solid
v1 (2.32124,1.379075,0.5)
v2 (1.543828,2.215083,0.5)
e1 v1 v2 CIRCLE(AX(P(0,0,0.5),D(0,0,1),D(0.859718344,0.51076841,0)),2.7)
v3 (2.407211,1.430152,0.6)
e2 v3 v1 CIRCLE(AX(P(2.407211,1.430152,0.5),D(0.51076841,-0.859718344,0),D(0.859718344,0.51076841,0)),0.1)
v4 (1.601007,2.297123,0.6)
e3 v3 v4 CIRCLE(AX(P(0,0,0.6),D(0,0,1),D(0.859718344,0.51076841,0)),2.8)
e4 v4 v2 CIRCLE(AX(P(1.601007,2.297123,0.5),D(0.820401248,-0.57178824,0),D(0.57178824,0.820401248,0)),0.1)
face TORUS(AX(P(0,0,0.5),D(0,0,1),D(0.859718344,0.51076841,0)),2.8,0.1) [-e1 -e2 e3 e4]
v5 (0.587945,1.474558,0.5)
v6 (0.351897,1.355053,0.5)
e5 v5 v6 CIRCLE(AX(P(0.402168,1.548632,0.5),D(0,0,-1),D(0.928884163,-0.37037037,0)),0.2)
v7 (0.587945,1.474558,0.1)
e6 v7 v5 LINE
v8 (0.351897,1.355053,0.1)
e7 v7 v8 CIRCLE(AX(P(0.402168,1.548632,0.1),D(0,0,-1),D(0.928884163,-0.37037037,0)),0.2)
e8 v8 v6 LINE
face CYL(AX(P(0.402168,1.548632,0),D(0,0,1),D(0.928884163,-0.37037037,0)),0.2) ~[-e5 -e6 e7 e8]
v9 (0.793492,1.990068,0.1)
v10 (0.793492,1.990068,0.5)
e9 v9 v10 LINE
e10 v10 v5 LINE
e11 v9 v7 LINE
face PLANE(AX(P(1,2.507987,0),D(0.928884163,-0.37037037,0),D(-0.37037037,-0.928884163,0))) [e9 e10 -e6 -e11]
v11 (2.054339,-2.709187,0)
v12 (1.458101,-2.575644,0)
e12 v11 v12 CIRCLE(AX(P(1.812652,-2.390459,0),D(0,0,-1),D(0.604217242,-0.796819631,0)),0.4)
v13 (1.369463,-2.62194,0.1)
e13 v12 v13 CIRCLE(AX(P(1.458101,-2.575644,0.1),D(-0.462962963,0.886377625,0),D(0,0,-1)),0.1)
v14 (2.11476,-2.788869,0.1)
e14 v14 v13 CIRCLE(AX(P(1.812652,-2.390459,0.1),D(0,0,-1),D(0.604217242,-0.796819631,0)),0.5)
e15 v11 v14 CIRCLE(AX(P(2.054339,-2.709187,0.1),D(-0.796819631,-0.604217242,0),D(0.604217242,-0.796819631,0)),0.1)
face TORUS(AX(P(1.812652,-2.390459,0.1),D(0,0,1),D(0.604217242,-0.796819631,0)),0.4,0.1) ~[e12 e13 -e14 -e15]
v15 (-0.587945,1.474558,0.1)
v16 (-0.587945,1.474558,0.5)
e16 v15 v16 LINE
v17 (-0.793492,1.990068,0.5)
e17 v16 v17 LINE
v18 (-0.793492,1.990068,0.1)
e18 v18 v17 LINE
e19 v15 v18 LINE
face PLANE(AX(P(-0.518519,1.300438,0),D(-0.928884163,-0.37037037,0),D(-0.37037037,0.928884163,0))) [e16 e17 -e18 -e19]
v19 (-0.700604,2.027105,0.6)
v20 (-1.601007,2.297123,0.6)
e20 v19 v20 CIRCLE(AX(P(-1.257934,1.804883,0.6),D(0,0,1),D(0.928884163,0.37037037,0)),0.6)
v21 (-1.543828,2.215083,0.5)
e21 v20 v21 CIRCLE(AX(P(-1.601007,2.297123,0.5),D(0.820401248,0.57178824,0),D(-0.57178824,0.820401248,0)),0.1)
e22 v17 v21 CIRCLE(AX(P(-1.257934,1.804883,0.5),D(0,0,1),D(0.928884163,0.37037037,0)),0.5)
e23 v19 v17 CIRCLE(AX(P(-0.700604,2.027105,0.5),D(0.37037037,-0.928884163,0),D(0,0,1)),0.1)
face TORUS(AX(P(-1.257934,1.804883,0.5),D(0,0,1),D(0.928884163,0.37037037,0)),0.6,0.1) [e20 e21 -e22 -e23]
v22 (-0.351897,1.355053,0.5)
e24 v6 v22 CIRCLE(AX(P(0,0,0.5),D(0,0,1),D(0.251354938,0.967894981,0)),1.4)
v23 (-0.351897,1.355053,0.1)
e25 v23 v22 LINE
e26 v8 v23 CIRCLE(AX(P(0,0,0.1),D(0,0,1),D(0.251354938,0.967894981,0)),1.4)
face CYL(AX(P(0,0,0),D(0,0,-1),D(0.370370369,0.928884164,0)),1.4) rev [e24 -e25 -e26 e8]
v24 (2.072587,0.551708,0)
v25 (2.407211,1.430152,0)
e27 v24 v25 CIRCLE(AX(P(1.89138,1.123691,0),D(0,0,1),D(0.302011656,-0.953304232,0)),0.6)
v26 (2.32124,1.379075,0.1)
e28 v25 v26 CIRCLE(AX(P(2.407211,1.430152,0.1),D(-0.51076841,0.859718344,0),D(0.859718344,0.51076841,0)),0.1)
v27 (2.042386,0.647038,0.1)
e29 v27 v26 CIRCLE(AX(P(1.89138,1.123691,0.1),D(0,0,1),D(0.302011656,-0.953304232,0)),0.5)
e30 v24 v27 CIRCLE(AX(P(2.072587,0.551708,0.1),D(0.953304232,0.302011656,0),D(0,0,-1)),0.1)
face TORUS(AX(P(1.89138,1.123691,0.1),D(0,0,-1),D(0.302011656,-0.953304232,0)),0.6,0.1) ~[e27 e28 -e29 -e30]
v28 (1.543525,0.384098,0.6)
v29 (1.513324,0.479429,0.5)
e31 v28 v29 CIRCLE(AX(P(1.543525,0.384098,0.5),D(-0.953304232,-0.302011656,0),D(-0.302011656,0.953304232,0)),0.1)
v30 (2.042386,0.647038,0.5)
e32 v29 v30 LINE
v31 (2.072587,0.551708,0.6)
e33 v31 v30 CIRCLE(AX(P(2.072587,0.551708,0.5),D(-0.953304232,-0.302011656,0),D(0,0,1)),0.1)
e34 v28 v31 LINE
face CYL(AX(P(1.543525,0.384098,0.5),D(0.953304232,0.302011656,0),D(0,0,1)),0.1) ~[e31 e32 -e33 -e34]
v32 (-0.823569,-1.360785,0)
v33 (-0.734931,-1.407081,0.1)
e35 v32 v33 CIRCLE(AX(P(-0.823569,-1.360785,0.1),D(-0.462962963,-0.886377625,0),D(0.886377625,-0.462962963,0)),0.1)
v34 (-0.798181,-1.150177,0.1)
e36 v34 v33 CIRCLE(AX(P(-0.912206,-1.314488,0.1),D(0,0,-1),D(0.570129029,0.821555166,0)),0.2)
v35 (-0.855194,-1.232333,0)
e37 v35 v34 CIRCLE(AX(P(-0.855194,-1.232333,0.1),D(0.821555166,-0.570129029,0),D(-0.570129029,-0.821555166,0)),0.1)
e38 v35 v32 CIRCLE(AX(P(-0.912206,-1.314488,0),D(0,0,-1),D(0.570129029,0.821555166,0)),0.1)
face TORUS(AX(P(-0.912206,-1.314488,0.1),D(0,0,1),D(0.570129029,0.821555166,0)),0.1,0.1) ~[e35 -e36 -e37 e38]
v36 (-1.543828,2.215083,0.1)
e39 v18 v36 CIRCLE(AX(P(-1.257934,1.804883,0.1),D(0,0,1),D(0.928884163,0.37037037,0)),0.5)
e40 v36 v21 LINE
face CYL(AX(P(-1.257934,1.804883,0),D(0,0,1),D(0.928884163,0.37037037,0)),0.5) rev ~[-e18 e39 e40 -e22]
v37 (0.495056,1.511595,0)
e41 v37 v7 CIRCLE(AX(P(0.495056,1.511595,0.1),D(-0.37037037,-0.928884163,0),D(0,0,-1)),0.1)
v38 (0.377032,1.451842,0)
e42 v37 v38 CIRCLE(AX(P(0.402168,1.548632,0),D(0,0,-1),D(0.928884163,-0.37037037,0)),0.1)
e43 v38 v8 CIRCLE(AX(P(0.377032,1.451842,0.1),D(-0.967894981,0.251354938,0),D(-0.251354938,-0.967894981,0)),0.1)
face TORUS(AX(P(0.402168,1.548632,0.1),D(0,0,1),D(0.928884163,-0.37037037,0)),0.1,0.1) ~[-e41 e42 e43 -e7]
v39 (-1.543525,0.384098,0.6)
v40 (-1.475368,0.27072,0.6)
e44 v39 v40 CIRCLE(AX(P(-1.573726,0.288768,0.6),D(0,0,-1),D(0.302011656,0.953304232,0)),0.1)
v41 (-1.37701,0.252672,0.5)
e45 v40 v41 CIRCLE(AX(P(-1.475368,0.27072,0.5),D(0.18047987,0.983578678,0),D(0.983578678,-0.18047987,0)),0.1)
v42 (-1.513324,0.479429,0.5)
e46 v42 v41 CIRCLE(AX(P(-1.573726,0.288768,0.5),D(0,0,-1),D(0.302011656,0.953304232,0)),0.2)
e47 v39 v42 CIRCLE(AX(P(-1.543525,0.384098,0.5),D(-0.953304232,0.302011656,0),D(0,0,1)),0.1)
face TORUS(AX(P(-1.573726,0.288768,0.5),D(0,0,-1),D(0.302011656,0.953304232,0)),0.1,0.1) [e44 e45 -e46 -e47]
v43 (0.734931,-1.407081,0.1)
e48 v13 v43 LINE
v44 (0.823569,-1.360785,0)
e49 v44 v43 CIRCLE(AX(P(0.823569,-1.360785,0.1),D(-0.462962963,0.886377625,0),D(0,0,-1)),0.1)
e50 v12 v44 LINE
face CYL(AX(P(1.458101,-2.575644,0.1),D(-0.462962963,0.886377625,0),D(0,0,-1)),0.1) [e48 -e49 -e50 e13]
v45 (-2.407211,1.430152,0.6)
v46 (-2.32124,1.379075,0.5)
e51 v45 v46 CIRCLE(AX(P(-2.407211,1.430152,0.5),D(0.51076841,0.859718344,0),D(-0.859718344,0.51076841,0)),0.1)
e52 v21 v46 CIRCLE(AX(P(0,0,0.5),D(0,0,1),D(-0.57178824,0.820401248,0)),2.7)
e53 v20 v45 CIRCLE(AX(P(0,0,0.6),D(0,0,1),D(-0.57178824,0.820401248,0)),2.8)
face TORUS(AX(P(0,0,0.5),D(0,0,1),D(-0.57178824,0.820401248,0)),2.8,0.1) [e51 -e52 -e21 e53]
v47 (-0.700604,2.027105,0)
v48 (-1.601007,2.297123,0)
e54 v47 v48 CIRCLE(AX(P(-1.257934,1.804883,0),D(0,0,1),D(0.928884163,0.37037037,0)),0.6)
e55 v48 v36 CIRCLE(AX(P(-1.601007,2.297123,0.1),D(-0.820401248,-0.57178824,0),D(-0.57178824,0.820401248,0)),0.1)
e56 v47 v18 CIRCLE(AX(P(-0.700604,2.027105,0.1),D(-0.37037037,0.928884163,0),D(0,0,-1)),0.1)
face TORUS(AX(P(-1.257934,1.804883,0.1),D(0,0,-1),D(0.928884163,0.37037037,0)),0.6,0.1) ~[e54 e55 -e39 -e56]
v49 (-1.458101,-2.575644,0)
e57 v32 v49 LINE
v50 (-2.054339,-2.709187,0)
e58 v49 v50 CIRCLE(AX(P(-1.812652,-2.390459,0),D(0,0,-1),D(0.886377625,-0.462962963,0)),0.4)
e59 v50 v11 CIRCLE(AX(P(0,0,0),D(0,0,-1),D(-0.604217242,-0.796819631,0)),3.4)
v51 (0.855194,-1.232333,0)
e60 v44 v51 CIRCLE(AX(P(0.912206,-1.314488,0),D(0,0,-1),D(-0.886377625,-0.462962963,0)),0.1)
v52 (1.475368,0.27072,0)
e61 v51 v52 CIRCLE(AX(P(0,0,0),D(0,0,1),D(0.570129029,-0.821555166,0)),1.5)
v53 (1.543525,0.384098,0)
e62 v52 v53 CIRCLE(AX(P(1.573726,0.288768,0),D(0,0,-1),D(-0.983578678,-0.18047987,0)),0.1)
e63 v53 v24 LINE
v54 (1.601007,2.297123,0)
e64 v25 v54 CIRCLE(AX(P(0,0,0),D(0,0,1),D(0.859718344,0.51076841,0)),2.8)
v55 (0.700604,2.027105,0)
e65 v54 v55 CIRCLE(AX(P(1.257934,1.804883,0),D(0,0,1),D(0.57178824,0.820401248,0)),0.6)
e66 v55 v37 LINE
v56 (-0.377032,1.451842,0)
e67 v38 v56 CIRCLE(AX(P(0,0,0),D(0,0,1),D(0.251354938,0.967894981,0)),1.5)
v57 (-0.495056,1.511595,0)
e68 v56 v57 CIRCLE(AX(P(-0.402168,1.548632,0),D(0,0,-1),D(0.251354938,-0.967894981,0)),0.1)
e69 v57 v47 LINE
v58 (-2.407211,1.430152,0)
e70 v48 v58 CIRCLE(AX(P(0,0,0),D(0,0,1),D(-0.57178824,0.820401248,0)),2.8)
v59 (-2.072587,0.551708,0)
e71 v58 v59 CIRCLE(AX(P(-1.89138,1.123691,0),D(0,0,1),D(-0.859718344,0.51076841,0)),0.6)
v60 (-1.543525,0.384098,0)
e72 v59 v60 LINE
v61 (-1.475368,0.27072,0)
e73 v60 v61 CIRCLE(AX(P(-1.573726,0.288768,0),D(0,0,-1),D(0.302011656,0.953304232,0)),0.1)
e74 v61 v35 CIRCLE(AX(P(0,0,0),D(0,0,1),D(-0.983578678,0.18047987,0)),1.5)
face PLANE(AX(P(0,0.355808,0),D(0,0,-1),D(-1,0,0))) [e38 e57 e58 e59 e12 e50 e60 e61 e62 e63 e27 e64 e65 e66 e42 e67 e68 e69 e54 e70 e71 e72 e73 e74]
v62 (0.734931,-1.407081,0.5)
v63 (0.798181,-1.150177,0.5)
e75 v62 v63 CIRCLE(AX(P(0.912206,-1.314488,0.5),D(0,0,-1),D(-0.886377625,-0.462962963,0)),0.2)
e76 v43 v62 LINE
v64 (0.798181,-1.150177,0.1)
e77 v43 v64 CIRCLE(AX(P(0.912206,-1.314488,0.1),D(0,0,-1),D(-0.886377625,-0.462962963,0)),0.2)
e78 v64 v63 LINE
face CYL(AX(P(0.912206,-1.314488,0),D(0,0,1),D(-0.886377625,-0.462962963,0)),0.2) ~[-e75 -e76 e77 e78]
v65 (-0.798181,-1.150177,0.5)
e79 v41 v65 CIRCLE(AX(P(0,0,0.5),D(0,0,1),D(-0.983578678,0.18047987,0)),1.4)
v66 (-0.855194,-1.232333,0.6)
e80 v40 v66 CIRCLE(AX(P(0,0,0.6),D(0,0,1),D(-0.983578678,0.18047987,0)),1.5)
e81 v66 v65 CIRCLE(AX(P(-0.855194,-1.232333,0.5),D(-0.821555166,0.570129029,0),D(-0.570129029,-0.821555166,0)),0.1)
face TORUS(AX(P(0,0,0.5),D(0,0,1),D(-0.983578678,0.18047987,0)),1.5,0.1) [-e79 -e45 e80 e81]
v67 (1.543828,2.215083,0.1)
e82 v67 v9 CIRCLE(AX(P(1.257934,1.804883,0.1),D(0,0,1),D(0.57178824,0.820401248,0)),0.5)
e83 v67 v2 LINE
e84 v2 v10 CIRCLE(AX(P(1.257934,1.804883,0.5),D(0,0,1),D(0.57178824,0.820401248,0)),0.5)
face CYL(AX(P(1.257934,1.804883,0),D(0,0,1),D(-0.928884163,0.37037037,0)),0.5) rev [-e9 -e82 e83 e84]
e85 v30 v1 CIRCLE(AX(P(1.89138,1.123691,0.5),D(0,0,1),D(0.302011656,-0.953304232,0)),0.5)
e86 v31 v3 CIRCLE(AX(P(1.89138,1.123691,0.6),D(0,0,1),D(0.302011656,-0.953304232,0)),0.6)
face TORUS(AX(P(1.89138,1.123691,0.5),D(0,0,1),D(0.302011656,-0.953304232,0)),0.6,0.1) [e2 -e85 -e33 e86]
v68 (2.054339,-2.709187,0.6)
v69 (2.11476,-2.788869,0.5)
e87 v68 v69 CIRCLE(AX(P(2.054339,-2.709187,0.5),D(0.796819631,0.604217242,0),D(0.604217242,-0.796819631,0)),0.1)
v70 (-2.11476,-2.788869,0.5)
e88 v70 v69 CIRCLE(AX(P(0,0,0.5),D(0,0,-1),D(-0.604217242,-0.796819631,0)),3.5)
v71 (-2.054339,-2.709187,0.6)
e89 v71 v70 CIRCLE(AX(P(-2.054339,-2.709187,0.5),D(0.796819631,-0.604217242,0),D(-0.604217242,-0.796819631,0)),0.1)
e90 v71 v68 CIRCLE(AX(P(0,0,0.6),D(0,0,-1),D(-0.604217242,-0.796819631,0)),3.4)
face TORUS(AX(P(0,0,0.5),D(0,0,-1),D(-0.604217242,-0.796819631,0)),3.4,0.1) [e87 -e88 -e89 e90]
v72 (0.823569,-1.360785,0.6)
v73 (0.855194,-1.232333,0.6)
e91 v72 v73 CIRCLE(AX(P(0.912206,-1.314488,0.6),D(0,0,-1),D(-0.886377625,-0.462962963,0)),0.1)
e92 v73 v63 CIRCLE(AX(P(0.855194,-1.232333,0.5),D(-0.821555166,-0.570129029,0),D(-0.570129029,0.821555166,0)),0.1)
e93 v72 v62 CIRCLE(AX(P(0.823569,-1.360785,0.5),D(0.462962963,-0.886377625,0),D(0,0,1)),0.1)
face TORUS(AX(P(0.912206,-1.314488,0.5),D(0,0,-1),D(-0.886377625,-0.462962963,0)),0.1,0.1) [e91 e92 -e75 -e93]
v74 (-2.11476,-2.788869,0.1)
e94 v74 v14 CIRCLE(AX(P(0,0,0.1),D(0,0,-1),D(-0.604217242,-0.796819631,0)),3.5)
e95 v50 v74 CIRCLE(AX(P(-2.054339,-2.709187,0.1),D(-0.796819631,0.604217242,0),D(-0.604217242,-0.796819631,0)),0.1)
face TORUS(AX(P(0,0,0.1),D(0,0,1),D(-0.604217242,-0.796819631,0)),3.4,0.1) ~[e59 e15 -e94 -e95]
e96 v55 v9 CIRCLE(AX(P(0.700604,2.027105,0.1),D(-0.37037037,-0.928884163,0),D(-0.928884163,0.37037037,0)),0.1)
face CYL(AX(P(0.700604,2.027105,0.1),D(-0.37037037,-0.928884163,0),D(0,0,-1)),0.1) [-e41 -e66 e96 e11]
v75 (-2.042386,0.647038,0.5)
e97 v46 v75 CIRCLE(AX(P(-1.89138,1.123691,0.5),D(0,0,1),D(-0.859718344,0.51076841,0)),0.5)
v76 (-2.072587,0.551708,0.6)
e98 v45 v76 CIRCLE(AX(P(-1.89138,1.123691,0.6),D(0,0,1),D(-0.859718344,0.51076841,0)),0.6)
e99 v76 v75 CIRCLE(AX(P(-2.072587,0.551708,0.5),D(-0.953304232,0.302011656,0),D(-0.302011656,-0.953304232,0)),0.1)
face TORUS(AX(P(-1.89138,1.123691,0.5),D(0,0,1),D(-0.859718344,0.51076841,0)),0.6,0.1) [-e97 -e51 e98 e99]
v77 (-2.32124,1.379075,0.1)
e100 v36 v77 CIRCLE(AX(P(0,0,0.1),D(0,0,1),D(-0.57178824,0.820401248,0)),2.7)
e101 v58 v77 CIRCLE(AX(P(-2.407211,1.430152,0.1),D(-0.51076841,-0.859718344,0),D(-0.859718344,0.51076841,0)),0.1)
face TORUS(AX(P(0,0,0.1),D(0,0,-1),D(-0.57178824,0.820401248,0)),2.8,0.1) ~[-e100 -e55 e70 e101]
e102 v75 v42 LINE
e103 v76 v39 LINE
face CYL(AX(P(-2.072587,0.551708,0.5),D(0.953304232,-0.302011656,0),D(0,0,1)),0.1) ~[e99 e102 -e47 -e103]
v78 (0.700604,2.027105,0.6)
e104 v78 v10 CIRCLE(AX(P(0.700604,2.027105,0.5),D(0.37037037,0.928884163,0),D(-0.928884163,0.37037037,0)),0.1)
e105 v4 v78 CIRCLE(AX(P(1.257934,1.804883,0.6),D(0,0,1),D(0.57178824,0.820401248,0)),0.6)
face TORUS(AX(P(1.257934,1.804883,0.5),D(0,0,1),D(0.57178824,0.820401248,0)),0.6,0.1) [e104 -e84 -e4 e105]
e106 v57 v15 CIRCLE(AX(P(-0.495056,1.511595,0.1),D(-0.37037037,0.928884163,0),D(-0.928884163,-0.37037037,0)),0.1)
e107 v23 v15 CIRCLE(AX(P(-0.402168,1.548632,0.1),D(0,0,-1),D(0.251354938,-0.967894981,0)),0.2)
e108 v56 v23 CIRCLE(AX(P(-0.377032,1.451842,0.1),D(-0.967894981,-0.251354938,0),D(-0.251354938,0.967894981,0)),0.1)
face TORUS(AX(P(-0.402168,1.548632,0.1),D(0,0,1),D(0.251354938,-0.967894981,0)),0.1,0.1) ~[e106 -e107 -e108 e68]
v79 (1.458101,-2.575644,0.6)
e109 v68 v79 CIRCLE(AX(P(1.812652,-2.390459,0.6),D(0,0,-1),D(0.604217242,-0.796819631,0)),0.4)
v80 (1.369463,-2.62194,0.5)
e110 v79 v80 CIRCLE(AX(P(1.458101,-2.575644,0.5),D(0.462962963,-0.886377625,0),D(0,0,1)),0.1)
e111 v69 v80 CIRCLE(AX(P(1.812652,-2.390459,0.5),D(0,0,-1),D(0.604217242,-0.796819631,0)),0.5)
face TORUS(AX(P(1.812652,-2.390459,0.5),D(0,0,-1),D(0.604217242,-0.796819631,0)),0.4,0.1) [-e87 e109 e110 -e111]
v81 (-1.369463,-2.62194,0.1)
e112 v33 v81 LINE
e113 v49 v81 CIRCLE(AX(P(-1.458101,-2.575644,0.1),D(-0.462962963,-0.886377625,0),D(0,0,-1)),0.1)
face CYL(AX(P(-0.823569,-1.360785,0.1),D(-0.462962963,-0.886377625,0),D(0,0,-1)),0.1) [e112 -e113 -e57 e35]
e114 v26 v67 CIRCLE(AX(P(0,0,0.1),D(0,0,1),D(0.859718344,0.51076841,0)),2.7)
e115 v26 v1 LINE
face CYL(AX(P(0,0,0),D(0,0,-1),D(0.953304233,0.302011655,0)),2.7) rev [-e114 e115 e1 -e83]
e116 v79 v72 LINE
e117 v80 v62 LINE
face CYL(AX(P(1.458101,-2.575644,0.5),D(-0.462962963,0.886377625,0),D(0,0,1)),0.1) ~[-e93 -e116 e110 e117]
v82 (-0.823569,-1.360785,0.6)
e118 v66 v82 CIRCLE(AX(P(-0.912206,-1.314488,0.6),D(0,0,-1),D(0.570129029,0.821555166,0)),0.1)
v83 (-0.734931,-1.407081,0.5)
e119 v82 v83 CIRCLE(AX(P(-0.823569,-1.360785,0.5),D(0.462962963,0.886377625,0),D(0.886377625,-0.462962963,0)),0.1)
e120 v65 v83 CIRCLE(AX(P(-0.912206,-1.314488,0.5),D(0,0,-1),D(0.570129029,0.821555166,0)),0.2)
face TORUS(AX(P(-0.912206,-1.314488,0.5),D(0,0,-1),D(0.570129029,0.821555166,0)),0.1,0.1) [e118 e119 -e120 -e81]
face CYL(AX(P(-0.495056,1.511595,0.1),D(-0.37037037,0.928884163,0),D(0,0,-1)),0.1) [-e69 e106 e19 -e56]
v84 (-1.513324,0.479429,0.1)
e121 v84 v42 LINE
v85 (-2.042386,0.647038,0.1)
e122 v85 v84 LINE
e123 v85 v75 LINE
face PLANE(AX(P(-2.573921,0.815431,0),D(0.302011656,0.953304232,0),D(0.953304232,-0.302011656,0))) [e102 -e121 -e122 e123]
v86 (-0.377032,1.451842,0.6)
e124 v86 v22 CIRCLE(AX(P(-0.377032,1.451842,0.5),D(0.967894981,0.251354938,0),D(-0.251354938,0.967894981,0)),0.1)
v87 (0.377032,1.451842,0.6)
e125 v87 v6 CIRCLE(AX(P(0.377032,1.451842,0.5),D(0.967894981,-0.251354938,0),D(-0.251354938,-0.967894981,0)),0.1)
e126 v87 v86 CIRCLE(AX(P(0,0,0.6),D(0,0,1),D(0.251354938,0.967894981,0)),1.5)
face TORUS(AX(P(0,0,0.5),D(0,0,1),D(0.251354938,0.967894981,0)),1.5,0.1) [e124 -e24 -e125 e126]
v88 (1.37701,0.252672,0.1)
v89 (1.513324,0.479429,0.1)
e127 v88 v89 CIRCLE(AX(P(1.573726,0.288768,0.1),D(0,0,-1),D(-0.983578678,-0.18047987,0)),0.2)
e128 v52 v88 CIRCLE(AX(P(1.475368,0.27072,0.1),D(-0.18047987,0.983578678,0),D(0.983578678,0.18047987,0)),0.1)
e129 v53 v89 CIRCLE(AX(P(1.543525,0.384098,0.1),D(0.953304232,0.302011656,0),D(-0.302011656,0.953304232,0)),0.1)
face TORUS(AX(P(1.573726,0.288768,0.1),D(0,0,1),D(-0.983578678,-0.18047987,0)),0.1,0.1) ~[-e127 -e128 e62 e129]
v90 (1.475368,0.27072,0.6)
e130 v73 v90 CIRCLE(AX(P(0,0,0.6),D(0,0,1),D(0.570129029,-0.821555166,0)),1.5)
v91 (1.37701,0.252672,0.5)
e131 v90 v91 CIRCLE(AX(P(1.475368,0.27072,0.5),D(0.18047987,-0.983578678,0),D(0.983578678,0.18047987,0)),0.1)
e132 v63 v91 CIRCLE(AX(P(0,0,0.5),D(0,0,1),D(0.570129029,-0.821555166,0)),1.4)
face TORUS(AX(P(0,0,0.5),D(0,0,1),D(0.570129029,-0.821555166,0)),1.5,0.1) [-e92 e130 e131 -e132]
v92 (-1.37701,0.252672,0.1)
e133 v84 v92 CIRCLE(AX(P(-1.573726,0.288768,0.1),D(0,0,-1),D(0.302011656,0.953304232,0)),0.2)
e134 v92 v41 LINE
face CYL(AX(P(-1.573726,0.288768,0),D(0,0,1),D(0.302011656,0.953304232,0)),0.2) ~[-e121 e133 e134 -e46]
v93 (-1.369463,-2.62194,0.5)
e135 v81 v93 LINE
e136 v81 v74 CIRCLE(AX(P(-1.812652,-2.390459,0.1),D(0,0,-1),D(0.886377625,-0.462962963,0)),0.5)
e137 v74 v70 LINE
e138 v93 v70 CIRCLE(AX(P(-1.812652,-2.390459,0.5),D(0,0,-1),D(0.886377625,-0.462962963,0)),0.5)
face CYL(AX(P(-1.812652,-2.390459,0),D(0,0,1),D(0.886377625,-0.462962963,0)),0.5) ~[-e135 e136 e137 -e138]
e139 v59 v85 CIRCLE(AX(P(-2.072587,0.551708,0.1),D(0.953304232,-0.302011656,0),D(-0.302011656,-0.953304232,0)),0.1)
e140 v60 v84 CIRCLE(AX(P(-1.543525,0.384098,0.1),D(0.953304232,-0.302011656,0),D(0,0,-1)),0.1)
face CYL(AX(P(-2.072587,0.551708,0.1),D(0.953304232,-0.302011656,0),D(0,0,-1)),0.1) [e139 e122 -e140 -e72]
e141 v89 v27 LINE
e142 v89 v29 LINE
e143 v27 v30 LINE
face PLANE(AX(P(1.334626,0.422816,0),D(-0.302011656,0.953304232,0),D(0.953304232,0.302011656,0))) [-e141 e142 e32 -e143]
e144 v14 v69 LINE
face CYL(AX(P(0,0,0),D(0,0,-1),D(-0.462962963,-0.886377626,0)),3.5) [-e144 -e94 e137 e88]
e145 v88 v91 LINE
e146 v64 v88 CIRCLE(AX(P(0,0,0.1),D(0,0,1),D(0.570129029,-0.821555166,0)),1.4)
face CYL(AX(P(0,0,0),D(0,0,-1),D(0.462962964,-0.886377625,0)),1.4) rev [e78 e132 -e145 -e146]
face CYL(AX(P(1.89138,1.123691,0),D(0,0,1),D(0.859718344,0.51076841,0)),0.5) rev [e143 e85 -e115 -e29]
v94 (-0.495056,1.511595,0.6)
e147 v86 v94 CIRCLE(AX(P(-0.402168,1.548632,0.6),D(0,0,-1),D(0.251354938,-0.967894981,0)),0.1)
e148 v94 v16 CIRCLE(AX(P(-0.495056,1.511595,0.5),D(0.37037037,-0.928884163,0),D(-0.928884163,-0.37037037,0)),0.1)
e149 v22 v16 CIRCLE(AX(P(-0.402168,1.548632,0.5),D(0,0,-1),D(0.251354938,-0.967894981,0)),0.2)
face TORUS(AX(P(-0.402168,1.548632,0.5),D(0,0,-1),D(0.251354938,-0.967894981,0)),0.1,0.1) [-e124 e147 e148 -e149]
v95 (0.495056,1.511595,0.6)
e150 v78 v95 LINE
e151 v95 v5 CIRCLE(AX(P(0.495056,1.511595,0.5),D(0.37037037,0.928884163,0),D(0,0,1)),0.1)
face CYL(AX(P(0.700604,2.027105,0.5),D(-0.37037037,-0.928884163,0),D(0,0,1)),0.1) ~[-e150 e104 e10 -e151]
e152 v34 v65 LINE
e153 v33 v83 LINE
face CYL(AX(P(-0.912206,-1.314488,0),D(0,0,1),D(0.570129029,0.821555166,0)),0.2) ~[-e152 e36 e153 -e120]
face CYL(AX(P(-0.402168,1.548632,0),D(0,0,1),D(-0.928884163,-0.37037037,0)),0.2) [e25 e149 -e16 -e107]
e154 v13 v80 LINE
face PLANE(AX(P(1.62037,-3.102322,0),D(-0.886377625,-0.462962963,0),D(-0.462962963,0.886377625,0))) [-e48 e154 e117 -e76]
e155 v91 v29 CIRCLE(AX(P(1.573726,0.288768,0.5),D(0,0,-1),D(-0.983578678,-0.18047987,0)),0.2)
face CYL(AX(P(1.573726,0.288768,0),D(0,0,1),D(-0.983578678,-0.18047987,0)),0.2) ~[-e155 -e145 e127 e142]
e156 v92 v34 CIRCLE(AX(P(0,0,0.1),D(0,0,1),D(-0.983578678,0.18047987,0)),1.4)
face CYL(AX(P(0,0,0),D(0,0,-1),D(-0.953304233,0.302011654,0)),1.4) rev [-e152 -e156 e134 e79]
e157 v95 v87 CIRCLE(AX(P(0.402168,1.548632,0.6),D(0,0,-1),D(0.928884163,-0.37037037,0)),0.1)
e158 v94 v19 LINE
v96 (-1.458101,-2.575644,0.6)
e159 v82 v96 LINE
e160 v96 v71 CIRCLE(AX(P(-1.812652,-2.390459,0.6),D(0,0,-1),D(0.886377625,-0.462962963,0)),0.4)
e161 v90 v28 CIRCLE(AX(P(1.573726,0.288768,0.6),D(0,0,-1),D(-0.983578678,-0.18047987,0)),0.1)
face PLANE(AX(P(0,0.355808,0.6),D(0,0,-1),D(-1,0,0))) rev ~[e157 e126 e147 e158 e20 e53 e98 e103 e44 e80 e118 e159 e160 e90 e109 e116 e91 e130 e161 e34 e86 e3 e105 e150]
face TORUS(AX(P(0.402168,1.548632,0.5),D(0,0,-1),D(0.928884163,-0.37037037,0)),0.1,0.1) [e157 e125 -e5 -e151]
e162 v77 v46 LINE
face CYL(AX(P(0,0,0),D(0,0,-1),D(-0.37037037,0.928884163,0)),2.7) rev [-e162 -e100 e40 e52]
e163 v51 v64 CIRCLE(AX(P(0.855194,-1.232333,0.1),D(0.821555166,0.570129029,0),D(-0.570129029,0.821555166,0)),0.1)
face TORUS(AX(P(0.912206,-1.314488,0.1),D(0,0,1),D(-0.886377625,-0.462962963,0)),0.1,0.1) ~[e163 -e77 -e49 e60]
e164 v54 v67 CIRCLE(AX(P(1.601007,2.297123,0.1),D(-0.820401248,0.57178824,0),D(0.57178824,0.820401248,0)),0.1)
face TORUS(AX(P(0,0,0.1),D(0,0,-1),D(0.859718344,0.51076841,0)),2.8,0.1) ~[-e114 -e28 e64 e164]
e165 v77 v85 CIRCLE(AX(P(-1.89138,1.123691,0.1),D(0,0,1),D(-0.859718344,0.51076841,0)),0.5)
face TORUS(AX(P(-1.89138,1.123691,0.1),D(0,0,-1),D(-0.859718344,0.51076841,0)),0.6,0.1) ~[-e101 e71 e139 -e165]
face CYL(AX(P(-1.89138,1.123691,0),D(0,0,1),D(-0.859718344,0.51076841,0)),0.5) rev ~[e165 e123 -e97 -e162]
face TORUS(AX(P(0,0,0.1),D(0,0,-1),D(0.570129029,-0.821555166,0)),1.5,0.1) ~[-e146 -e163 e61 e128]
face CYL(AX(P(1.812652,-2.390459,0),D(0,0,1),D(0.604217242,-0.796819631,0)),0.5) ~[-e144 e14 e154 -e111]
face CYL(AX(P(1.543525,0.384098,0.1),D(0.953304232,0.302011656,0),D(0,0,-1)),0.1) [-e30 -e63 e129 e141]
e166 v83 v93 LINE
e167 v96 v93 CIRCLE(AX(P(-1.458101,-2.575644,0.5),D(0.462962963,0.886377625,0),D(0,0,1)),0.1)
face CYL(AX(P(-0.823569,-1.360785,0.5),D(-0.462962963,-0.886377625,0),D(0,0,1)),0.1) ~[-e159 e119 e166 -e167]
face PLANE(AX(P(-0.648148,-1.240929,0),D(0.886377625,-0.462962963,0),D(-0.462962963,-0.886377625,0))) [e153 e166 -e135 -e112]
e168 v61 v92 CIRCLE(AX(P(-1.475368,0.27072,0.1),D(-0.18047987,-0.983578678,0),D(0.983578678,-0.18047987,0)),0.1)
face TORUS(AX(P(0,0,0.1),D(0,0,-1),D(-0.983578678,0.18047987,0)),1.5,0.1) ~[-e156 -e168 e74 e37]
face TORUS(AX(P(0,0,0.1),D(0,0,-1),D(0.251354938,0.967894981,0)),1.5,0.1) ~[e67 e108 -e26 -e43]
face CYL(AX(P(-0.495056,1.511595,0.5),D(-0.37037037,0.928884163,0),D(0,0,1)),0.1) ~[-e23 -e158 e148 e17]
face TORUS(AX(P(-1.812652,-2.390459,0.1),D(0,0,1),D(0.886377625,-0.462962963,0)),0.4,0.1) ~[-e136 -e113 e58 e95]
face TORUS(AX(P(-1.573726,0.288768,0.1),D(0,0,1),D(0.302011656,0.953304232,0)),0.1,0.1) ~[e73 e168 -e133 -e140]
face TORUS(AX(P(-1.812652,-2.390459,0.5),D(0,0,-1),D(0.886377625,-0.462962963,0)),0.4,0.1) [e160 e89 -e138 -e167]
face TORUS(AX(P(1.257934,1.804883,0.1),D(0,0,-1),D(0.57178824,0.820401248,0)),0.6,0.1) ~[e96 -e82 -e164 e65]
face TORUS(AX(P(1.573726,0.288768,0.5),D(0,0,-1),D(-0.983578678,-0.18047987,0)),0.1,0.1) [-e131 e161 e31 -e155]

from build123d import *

# Parameters (mm, degrees)
EXTRUDE_1_DEPTH = 0.6
FILLET_1_R      = 0.2
FILLET_2_R      = 0.5
FILLET_3_R      = 0.1


with BuildPart() as part:
    # 草图1 → 凸台-拉伸1 (new body)
    with BuildSketch(Plane.XY):
        with BuildLine():
            Line((-0.518518519, 1.300437829), (-1, 2.507987241))
            ThreePointArc((-1, 2.507987241), (-1.977224027, 1.838636764), (-2.573921428, 0.815431471))
            Line((-2.573921428, 0.815431471), (-1.334625926, 0.422816318))
            ThreePointArc((-1.334625926, 0.422816318), (-1.294163864, -0.533984917), (-0.648148148, -1.240928676))
            Line((-0.648148148, -1.240928676), (-1.62037037, -3.102321689))
            ThreePointArc((-1.62037037, -3.102321689), (0, 3.5), (1.62037037, -3.102321689))
            Line((1.62037037, -3.102321689), (0.648148148, -1.240928676))
            ThreePointArc((0.648148148, -1.240928676), (1.294163864, -0.533984917), (1.334625926, 0.422816318))
            Line((1.334625926, 0.422816318), (2.573921428, 0.815431471))
            ThreePointArc((2.573921428, 0.815431471), (1.977224027, 1.838636764), (1, 2.507987241))
            Line((1, 2.507987241), (0.518518519, 1.300437829))
            ThreePointArc((0.518518519, 1.300437829), (0, 1.4), (-0.518518519, 1.300437829))
        make_face()
    extrude(amount=EXTRUDE_1_DEPTH)

    # 圆角1
    fillet_1_edges = [part.edges().sort_by_distance(p)[0] for p in [
        (0.518518519, 1.300437829, 0.3),
        (-0.518518519, 1.300437829, 0.3),
        (-1.334625926, 0.422816318, 0.3),
        (-0.648148148, -1.240928676, 0.3),
        (0.648148148, -1.240928676, 0.3),
        (1.334625926, 0.422816318, 0.3),
    ]]
    fillet(fillet_1_edges, radius=FILLET_1_R)

    # 圆角2
    fillet_2_edges = [part.edges().sort_by_distance(p)[0] for p in [
        (1, 2.507987241, 0.3),
        (-1, 2.507987241, 0.3),
        (-2.573921428, 0.815431471, 0.3),
        (-1.62037037, -3.102321689, 0.3),
        (1.62037037, -3.102321689, 0.3),
        (2.573921428, 0.815431471, 0.3),
    ]]
    fillet(fillet_2_edges, radius=FILLET_2_R)

    # 圆角3
    fillet_3_edges = [part.edges().sort_by_distance(p)[0] for p in [
        (1.052196916, -2.014510617, 0),
        (1.052196916, -2.014510617, 0.6),
        (0.690718392, 1.732312913, 0),
        (0, 1.4, 0),
        (-1.777854869, 0.563233514, 0),
        (-1.294163864, -0.533984917, 0),
        (1.294163864, -0.533984917, 0),
        (-0.718005558, -1.266675972, 0),
        (-1.40231384, 0.391811042, 0),
        (-0.492505133, 1.37019659, 0),
        (0.492505133, 1.37019659, 0),
        (1.40231384, 0.391811042, 0),
        (0.718005558, -1.266675972, 0),
        (1.294163864, -0.533984917, 0.6),
        (-1.294163864, -0.533984917, 0.6),
        (-1.777854869, 0.563233514, 0.6),
        (0, 1.4, 0.6),
        (0.690718392, 1.732312913, 0.6),
        (-0.718005558, -1.266675972, 0.6),
        (-1.40231384, 0.391811042, 0.6),
        (-0.492505133, 1.37019659, 0.6),
        (0.492505133, 1.37019659, 0.6),
        (1.40231384, 0.391811042, 0.6),
        (0.718005558, -1.266675972, 0.6),
        (0, 3.5, 0),
        (0, 3.5, 0.6),
        (1.777854869, 0.563233514, 0),
        (1.977224027, 1.838636764, 0),
        (-0.690718392, 1.732312913, 0),
        (-1.977224027, 1.838636764, 0),
        (-1.052196916, -2.014510617, 0),
        (-1.703371479, -2.878370594, 0),
        (1.703371479, -2.878370594, 0),
        (-1.052196916, -2.014510617, 0.6),
        (-1.977224027, 1.838636764, 0.6),
        (-0.690718392, 1.732312913, 0.6),
        (1.977224027, 1.838636764, 0.6),
        (1.777854869, 0.563233514, 0.6),
        (-1.703371479, -2.878370594, 0.6),
        (1.703371479, -2.878370594, 0.6),
        (2.358627968, 0.94570267, 0),
        (2.358627968, 0.94570267, 0.6),
        (1.114310209, 2.283810892, 0),
        (1.114310209, 2.283810892, 0.6),
        (-2.358627968, 0.94570267, 0),
        (-2.358627968, 0.94570267, 0.6),
        (-1.114310209, 2.283810892, 0),
        (-1.114310209, 2.283810892, 0.6),
    ]]
    fillet(fillet_3_edges, radius=FILLET_3_R)


solid = part.part
